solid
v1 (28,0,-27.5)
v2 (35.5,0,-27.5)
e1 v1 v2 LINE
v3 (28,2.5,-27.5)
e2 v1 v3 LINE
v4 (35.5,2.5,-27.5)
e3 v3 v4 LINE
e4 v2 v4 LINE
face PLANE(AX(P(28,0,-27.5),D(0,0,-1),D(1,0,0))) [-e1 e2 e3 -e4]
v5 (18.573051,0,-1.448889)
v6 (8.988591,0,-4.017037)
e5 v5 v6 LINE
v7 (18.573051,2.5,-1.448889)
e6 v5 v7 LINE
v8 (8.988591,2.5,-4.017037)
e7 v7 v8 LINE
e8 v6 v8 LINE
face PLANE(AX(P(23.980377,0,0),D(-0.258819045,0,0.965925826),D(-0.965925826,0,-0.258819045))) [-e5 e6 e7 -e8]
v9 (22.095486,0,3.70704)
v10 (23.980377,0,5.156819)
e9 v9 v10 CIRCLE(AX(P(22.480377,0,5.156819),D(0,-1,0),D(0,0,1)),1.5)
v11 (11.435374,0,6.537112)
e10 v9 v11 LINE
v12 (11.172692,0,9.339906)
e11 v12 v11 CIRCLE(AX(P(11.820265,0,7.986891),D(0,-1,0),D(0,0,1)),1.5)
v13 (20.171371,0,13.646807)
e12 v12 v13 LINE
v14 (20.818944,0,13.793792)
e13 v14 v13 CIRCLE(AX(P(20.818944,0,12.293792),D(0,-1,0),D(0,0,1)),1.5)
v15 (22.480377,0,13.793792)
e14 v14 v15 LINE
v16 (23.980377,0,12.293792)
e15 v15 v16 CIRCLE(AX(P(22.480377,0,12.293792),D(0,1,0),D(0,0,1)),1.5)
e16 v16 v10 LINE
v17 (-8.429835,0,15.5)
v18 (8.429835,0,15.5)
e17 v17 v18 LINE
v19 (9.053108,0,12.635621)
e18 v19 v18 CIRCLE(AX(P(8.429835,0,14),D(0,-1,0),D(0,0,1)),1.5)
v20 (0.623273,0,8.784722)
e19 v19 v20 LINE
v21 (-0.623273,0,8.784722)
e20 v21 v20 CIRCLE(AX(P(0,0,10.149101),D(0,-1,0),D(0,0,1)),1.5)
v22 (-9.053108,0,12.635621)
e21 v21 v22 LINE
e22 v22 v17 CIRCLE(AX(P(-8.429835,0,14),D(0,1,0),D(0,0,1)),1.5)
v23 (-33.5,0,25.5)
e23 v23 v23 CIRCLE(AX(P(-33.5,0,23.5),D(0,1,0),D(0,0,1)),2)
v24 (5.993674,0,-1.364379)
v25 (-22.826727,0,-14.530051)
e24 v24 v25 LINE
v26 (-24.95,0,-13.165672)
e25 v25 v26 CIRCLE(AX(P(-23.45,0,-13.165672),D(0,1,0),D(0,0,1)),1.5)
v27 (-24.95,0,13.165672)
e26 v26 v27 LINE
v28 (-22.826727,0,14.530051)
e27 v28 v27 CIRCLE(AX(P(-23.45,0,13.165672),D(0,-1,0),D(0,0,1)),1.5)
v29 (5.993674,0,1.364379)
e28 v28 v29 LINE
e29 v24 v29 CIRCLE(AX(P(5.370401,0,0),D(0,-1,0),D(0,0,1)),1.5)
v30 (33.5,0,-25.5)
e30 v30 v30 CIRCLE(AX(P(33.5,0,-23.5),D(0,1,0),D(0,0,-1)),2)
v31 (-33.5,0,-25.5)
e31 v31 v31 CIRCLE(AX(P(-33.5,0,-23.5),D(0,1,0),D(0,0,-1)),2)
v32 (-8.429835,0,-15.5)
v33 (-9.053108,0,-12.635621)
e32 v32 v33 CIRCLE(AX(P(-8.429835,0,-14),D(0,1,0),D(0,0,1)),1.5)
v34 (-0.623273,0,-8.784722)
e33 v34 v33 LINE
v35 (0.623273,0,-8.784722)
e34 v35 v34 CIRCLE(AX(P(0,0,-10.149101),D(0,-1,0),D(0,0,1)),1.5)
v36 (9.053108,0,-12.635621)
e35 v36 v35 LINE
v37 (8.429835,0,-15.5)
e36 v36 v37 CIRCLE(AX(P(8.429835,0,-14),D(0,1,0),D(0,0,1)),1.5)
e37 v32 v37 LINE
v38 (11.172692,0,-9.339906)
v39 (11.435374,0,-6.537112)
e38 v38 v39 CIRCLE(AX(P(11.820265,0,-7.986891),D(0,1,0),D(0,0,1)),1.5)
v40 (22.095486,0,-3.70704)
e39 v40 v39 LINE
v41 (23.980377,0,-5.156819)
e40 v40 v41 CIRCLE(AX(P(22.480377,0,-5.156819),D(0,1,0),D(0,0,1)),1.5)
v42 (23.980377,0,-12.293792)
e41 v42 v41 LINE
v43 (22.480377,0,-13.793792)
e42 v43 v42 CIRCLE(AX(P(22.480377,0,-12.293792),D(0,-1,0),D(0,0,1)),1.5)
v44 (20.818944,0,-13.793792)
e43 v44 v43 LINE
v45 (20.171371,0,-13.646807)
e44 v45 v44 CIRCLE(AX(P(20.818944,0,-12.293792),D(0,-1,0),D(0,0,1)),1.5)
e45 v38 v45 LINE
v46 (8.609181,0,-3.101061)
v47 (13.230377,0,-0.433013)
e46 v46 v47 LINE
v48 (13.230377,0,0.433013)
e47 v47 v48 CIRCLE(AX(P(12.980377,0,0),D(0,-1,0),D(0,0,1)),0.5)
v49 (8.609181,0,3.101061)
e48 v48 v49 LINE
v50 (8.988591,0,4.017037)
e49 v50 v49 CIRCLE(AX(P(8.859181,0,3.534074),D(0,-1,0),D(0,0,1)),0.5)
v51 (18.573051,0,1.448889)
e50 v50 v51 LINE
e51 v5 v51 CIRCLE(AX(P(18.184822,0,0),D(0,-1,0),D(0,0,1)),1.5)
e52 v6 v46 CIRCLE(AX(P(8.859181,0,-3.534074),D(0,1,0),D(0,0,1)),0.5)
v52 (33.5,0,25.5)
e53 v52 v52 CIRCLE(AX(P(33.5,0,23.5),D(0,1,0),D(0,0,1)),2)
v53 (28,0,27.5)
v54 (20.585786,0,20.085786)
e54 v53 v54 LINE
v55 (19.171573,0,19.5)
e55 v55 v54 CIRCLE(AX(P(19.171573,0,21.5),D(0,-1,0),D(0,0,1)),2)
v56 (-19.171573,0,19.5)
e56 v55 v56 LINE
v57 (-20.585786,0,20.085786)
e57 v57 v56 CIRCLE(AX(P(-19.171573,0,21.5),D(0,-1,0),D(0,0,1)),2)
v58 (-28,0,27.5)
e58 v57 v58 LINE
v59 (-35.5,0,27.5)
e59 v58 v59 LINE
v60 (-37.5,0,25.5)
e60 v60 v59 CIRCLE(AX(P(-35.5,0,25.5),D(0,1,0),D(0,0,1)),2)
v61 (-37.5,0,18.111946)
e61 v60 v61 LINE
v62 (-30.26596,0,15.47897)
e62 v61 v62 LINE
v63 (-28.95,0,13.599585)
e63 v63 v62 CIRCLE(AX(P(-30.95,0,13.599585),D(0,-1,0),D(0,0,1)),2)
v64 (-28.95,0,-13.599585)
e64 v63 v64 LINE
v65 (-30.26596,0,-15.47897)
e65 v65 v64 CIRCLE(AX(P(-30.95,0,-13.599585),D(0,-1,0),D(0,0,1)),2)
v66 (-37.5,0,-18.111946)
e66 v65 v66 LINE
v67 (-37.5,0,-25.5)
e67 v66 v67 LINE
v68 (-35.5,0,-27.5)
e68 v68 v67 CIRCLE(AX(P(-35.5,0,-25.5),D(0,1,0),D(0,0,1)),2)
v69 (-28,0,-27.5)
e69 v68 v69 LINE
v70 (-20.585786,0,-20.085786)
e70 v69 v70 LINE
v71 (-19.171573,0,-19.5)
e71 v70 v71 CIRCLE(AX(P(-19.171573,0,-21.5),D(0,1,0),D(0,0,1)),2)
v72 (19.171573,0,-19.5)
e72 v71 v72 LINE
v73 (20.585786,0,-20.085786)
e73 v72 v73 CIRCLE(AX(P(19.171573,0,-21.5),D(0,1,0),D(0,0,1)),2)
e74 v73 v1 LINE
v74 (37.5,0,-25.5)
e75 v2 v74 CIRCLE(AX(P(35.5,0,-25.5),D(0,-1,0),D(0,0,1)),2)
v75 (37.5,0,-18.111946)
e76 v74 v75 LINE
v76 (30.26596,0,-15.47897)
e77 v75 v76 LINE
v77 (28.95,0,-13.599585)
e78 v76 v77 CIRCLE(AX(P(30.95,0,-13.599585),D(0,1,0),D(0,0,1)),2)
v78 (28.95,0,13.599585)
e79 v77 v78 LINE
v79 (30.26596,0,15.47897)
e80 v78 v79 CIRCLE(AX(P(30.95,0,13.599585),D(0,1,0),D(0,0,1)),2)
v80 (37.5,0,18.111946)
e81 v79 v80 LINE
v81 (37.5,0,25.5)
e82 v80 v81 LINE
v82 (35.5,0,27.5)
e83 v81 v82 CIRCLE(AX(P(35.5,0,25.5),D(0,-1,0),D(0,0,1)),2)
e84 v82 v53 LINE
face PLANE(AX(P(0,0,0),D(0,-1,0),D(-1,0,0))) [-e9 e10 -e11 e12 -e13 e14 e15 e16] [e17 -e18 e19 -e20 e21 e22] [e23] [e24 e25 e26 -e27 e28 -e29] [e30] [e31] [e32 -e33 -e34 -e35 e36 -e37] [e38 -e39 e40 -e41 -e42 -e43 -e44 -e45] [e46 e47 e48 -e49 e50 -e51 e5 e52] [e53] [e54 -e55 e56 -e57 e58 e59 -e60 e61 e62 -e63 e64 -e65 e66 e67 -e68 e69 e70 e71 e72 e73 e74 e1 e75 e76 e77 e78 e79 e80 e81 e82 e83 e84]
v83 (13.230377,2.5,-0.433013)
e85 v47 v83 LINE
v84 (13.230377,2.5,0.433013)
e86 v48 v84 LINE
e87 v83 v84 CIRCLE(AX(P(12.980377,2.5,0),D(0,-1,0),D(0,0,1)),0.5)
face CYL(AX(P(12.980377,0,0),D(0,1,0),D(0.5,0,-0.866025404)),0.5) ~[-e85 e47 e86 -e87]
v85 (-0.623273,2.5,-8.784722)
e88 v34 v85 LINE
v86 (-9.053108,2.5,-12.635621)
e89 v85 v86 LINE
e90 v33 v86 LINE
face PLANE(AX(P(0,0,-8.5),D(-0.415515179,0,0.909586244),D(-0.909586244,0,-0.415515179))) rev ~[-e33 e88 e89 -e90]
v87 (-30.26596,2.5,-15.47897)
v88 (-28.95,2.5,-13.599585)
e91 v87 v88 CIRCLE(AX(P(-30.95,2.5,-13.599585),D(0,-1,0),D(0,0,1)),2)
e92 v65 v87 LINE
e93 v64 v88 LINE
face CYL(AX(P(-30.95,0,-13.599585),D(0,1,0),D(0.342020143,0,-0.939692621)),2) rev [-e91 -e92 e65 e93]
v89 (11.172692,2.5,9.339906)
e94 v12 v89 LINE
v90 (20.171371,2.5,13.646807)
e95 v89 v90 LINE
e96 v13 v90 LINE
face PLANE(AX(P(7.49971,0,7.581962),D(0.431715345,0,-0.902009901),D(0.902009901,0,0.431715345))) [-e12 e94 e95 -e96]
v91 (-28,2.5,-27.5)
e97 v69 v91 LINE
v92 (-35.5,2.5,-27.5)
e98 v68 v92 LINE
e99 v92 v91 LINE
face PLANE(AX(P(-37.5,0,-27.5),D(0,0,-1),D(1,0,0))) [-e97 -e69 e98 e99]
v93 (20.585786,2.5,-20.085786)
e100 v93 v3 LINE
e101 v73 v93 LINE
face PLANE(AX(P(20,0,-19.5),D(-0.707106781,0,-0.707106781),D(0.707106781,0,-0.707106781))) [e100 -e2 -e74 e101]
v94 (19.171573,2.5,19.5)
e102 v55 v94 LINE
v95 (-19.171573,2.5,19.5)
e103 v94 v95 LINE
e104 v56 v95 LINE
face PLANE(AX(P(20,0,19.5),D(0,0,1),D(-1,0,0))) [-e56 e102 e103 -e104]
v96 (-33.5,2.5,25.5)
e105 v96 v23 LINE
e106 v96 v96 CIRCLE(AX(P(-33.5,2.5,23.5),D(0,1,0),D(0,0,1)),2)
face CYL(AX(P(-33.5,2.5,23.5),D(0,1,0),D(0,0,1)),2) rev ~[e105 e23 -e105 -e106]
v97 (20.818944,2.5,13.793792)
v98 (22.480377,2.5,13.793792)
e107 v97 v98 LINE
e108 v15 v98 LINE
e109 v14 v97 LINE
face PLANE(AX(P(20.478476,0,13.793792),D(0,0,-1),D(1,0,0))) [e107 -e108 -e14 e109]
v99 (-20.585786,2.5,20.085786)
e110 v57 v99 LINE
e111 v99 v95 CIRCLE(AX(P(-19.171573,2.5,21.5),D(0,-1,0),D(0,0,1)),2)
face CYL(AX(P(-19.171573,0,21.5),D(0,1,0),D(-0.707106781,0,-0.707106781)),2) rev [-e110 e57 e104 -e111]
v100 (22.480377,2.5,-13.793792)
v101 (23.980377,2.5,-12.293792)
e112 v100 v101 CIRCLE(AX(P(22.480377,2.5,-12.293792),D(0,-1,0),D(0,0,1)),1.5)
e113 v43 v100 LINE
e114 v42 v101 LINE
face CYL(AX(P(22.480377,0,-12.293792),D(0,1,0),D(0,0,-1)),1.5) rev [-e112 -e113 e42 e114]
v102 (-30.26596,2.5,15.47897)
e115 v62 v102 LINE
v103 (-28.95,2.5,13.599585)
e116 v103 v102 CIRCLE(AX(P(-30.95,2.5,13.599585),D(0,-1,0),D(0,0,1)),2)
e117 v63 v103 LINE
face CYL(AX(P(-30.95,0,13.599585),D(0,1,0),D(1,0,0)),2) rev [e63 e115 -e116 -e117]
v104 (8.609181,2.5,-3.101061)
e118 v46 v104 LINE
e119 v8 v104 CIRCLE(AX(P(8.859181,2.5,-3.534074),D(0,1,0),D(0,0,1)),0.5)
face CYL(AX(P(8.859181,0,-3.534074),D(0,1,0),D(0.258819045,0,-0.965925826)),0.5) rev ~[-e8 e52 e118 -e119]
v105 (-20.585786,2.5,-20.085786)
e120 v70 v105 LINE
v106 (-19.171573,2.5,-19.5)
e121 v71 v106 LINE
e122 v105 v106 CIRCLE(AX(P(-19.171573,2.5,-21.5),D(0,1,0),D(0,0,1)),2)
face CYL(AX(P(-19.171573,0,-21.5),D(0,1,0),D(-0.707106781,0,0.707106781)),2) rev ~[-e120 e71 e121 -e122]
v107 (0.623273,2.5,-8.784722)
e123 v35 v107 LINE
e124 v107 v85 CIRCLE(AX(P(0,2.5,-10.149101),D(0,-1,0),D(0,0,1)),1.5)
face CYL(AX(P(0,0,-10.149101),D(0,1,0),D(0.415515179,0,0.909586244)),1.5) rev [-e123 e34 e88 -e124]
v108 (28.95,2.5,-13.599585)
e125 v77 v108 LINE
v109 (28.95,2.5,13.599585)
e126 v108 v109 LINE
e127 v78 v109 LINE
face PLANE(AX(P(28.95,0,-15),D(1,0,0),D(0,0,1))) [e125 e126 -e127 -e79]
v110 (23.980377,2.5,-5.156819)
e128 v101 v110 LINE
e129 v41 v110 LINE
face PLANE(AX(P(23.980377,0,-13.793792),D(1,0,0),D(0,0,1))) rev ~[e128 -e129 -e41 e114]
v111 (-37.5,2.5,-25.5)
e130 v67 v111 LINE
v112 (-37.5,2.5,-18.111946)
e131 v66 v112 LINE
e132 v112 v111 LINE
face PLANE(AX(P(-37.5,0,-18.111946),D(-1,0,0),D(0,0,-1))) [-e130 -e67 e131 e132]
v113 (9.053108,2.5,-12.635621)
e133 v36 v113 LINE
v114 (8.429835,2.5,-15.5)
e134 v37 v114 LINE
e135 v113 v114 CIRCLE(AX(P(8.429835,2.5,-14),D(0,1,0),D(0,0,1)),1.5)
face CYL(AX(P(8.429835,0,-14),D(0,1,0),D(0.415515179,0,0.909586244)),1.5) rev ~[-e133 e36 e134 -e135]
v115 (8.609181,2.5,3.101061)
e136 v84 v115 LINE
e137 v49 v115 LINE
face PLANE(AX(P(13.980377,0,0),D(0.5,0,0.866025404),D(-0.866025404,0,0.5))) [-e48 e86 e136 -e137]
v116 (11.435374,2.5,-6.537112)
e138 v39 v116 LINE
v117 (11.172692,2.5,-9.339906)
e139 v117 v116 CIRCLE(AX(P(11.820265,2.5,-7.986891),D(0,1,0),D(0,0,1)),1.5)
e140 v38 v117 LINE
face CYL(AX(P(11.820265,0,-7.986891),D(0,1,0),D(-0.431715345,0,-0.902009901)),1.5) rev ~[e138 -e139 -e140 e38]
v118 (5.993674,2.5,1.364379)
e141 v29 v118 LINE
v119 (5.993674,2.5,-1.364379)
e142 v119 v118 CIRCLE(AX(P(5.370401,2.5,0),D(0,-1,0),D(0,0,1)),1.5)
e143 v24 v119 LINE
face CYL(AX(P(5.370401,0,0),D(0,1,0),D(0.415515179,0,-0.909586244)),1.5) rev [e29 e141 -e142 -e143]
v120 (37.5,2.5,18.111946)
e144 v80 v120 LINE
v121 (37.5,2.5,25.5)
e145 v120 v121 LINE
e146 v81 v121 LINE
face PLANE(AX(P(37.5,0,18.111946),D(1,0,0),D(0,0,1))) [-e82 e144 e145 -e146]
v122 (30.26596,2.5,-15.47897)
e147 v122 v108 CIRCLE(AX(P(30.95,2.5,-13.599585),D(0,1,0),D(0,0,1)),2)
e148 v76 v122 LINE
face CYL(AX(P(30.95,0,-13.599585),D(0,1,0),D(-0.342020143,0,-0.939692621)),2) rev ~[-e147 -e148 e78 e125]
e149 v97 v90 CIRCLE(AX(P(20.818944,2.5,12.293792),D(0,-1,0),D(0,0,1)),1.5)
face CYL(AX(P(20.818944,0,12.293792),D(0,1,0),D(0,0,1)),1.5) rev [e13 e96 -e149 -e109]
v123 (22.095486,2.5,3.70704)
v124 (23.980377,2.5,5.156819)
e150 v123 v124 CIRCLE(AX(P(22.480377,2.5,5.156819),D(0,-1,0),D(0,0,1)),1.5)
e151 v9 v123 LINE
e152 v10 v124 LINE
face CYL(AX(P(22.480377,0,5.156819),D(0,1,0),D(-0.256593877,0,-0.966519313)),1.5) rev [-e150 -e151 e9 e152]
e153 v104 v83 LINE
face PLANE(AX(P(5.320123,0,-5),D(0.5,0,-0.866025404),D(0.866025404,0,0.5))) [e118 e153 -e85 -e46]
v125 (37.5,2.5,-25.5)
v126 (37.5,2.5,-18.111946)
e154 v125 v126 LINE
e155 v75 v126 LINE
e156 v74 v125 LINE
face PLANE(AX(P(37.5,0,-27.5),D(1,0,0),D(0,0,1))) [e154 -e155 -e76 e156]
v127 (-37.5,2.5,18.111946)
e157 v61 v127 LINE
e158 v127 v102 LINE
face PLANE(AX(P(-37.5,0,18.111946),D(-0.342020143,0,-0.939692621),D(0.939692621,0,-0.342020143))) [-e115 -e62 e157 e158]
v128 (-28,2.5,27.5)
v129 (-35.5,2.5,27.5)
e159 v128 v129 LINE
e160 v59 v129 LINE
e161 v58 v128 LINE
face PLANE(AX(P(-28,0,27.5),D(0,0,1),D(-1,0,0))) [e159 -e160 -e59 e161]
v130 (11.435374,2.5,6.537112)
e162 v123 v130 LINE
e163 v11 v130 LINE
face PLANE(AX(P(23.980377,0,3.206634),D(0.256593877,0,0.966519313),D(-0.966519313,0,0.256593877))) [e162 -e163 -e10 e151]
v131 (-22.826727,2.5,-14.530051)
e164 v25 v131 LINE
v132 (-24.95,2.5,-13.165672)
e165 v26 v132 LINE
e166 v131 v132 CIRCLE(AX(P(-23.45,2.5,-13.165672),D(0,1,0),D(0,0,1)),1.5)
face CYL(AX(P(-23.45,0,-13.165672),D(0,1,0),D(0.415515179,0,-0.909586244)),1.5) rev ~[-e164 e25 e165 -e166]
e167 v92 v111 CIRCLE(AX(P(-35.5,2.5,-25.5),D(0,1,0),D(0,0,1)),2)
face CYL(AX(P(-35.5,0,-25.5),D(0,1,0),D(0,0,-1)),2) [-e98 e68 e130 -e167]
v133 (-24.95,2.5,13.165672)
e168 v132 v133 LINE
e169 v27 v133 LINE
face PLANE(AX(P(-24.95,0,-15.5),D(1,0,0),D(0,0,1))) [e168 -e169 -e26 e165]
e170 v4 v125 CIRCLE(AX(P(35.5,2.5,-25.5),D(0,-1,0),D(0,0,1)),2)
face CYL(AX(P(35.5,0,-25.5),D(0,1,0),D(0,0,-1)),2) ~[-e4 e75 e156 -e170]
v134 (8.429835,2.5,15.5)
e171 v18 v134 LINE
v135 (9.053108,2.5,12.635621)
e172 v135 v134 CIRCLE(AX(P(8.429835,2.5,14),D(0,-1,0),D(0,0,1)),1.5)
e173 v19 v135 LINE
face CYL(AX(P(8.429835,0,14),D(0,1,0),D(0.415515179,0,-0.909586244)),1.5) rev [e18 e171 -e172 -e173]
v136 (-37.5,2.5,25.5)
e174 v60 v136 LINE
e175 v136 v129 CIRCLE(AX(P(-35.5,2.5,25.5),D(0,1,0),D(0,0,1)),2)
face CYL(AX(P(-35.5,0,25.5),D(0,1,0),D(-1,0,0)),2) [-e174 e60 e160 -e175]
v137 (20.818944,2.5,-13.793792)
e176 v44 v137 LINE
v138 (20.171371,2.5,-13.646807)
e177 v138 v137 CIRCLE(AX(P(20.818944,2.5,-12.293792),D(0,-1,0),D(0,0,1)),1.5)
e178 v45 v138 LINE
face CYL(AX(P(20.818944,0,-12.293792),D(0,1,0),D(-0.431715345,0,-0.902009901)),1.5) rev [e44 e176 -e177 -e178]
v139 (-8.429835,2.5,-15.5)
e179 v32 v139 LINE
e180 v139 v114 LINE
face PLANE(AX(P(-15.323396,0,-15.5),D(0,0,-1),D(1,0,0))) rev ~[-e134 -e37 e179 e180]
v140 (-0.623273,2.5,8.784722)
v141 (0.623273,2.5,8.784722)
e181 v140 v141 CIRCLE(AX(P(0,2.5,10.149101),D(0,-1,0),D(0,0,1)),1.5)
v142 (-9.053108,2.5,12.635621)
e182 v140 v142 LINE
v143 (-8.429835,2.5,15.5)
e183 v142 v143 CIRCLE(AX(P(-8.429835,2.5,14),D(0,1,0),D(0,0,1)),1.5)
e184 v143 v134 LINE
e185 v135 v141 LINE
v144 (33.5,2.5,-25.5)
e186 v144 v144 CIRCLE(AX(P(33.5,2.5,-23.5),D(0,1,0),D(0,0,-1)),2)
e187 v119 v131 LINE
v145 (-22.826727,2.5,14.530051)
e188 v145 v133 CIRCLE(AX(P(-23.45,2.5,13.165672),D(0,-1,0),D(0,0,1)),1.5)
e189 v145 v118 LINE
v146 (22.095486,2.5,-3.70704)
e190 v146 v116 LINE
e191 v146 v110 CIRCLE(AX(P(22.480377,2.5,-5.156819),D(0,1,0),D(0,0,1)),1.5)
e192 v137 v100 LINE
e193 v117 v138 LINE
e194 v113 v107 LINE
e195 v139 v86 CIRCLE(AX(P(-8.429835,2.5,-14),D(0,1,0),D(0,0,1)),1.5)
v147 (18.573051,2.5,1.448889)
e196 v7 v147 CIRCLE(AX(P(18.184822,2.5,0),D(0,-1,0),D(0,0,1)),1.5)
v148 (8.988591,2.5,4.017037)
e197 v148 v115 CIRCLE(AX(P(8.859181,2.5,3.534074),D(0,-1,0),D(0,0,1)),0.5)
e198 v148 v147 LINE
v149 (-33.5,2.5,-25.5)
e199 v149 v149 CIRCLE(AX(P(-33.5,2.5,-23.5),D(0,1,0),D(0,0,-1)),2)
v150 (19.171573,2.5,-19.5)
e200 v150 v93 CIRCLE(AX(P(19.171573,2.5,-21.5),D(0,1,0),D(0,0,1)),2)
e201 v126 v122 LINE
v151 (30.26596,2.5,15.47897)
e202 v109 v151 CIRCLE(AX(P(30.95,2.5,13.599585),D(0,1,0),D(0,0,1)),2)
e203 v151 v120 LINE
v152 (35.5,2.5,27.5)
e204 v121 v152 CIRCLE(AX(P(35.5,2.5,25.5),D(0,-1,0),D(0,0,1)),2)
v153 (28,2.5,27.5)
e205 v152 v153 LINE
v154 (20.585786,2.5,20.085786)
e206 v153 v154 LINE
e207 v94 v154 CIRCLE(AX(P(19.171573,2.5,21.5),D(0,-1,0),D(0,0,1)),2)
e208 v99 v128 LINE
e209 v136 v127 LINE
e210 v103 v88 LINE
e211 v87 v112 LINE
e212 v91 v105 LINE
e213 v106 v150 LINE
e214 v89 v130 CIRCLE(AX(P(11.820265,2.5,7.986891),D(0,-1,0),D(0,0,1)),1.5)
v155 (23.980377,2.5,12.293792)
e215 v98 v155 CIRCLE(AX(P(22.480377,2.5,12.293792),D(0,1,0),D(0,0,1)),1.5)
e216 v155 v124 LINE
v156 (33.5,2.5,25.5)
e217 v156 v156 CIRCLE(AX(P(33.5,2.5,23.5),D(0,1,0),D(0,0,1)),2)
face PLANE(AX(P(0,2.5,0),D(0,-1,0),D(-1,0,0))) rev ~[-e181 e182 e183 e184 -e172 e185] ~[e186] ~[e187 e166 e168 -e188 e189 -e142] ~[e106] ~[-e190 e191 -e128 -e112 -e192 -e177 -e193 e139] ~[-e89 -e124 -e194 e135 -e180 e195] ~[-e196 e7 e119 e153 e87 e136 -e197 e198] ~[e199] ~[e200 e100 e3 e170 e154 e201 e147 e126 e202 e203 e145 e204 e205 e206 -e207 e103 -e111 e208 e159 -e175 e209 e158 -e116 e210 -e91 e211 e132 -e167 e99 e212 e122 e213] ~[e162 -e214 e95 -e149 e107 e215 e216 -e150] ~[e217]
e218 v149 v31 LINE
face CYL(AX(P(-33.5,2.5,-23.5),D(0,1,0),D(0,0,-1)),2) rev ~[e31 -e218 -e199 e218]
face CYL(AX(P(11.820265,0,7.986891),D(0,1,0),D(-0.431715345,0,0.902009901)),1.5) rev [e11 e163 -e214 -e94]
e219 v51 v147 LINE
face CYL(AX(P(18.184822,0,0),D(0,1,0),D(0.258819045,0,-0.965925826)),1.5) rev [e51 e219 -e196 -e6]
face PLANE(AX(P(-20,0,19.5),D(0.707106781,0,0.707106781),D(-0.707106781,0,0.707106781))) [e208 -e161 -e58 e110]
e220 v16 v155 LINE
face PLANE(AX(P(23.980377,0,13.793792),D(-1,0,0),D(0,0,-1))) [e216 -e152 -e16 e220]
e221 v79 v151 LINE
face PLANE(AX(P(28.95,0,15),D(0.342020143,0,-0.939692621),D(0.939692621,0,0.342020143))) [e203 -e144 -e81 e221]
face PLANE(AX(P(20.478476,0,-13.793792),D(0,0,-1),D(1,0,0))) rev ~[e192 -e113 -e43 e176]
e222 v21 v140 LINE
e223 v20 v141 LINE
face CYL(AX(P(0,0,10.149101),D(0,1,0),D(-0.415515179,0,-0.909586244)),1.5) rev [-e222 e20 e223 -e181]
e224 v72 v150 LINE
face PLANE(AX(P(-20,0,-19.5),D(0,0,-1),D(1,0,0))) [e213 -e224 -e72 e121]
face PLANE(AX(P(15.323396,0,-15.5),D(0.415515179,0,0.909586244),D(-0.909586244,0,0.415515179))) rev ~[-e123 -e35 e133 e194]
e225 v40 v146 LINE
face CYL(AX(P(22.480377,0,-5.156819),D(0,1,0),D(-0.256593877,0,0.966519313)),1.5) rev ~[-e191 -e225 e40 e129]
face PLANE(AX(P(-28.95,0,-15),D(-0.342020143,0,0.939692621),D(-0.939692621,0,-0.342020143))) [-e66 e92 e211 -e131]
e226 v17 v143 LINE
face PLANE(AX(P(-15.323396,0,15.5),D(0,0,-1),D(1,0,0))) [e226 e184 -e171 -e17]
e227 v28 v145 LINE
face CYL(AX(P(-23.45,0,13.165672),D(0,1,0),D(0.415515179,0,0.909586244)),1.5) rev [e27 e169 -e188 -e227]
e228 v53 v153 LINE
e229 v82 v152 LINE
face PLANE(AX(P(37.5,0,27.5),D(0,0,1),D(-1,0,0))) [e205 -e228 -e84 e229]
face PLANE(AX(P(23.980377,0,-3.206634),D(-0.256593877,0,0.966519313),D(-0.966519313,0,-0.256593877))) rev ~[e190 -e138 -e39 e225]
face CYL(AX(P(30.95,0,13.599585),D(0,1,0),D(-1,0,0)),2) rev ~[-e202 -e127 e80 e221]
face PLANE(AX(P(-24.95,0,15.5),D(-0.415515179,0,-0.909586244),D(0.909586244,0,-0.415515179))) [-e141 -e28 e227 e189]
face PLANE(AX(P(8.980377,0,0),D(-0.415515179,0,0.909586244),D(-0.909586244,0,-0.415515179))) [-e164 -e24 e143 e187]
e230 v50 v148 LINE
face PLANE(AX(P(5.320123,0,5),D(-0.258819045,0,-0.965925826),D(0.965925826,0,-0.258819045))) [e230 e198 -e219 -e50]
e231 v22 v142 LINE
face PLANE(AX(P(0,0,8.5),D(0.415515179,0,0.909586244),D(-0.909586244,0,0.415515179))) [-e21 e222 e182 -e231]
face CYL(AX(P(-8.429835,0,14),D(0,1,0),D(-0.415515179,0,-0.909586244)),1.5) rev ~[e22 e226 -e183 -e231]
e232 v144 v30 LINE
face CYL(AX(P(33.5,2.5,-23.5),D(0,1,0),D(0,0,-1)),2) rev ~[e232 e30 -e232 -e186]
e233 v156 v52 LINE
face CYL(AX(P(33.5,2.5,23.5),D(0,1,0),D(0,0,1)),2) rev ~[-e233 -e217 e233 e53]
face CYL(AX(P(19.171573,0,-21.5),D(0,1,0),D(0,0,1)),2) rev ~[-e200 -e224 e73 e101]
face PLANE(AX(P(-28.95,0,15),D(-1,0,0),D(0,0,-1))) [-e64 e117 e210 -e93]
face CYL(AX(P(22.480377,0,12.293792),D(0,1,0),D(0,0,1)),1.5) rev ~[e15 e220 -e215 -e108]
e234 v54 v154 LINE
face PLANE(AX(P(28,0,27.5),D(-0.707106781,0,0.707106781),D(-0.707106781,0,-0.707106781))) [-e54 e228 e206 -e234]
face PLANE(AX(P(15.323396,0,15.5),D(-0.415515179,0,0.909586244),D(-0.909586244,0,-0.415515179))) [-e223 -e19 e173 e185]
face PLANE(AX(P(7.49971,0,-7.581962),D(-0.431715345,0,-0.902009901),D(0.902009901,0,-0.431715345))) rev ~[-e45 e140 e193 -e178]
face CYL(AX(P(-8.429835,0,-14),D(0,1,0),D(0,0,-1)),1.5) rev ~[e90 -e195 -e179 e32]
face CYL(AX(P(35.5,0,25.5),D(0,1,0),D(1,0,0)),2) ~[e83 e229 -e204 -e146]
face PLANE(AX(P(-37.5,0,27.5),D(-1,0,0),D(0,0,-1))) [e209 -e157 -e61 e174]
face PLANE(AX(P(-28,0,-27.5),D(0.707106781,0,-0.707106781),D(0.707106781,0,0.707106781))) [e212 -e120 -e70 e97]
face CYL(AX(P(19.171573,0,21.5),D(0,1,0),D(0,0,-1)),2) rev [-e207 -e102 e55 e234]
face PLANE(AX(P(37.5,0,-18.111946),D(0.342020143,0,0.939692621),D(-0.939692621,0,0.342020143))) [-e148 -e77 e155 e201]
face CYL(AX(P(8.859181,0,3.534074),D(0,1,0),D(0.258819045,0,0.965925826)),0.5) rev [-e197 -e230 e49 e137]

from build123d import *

# Parameters (mm, degrees)
EXTRUDE_1_DEPTH     = 2.5
FILLET_2_R          = 1.5
FILLET_3_R          = 0.5
SKETCH_3_R          = 2
CUT_EXTRUDE_1_DEPTH = 47.569840025
FILLET_4_R          = 2


with BuildPart() as part:
    # 草图2 → 凸台-拉伸1 (new body)
    with BuildSketch(Plane(origin=(0, 0, 0), x_dir=(1, 0, 0), z_dir=(0, 1, 0))):
        Polygon((-37.5, 27.5), (-28, 27.5), (-20, 19.5), (20, 19.5), (28, 27.5), (37.5, 27.5), (37.5, 18.111945503), (28.95, 15), (28.95, -15), (37.5, -18.111945503), (37.5, -27.5), (28, -27.5), (20, -19.5), (-20, -19.5), (-28, -27.5), (-37.5, -27.5), (-37.5, -18.111945503), (-28.95, -15), (-28.95, 15), (-37.5, 18.111945503), align=None)
        Polygon((15.323396198, 15.5), (0, 8.5), (-15.323396198, 15.5), align=None, mode=Mode.SUBTRACT)
        Polygon((-24.95, 15.5), (-24.95, -15.5), (8.980377297, 0), align=None, mode=Mode.SUBTRACT)
        Polygon((-15.323396198, -15.5), (15.323396198, -15.5), (0, -8.5), align=None, mode=Mode.SUBTRACT)
        Polygon((5.320123259, 5), (13.980377297, 0), (5.320123259, -5), (23.980377297, 0), align=None, mode=Mode.SUBTRACT)
        Polygon((7.499709521, 7.581961581), (20.478475988, 13.793792116), (23.980377297, 13.793792116), (23.980377297, 3.206634177), align=None, mode=Mode.SUBTRACT)
        Polygon((23.980377297, -13.793792116), (23.980377297, -3.206634177), (7.499709521, -7.581961581), (20.478475988, -13.793792116), align=None, mode=Mode.SUBTRACT)
    extrude(amount=EXTRUDE_1_DEPTH)

    # 圆角2
    fillet_2_edges = [part.edges().sort_by_distance(p)[0] for p in [
        (20.478475988, 1.25, 13.793792116),
        (23.980377297, 1.25, 13.793792116),
        (23.980377297, 1.25, 3.206634177),
        (7.499709521, 1.25, 7.581961581),
        (0, 1.25, 8.5),
        (-15.323396198, 1.25, 15.5),
        (15.323396198, 1.25, 15.5),
        (8.980377297, 1.25, 0),
        (-24.95, 1.25, -15.5),
        (-24.95, 1.25, 15.5),
        (-15.323396198, 1.25, -15.5),
        (0, 1.25, -8.5),
        (15.323396198, 1.25, -15.5),
        (23.980377297, 1.25, 0),
        (7.499709521, 1.25, -7.581961581),
        (23.980377297, 1.25, -3.206634177),
        (23.980377297, 1.25, -13.793792116),
        (20.478475988, 1.25, -13.793792116),
    ]]
    fillet(fillet_2_edges, radius=FILLET_2_R)

    # 圆角3
    fillet_3_edges = [part.edges().sort_by_distance(p)[0] for p in [
        (5.320123259, 1.25, -5),
        (13.980377297, 1.25, 0),
        (5.320123259, 1.25, 5),
    ]]
    fillet(fillet_3_edges, radius=FILLET_3_R)

    # 草图3 → 切除-拉伸1 (cut, through all)
    with BuildSketch(Plane(origin=(0, 2.5, 0), x_dir=(1, 0, 0), z_dir=(0, 1, 0))):
        with Locations(Location((-33.5, -23.5, 0), (0, 0, 270))):
            Circle(SKETCH_3_R)
        with Locations(Location((33.5, -23.5, 0), (0, 0, 270))):
            Circle(SKETCH_3_R)
        with Locations(Location((33.5, 23.5, 0), (0, 0, 90))):
            Circle(SKETCH_3_R)
        with Locations(Location((-33.5, 23.5, 0), (0, 0, 90))):
            Circle(SKETCH_3_R)
    extrude(amount=-CUT_EXTRUDE_1_DEPTH, mode=Mode.SUBTRACT)

    # 圆角4
    fillet_4_edges = [part.edges().sort_by_distance(p)[0] for p in [
        (20, 1.25, 19.5),
        (-20, 1.25, 19.5),
        (-37.5, 1.25, 27.5),
        (-28.95, 1.25, 15),
        (-28.95, 1.25, -15),
        (-37.5, 1.25, -27.5),
        (-20, 1.25, -19.5),
        (20, 1.25, -19.5),
        (37.5, 1.25, -27.5),
        (28.95, 1.25, -15),
        (28.95, 1.25, 15),
        (37.5, 1.25, 27.5),
    ]]
    fillet(fillet_4_edges, radius=FILLET_4_R)


solid = part.part
